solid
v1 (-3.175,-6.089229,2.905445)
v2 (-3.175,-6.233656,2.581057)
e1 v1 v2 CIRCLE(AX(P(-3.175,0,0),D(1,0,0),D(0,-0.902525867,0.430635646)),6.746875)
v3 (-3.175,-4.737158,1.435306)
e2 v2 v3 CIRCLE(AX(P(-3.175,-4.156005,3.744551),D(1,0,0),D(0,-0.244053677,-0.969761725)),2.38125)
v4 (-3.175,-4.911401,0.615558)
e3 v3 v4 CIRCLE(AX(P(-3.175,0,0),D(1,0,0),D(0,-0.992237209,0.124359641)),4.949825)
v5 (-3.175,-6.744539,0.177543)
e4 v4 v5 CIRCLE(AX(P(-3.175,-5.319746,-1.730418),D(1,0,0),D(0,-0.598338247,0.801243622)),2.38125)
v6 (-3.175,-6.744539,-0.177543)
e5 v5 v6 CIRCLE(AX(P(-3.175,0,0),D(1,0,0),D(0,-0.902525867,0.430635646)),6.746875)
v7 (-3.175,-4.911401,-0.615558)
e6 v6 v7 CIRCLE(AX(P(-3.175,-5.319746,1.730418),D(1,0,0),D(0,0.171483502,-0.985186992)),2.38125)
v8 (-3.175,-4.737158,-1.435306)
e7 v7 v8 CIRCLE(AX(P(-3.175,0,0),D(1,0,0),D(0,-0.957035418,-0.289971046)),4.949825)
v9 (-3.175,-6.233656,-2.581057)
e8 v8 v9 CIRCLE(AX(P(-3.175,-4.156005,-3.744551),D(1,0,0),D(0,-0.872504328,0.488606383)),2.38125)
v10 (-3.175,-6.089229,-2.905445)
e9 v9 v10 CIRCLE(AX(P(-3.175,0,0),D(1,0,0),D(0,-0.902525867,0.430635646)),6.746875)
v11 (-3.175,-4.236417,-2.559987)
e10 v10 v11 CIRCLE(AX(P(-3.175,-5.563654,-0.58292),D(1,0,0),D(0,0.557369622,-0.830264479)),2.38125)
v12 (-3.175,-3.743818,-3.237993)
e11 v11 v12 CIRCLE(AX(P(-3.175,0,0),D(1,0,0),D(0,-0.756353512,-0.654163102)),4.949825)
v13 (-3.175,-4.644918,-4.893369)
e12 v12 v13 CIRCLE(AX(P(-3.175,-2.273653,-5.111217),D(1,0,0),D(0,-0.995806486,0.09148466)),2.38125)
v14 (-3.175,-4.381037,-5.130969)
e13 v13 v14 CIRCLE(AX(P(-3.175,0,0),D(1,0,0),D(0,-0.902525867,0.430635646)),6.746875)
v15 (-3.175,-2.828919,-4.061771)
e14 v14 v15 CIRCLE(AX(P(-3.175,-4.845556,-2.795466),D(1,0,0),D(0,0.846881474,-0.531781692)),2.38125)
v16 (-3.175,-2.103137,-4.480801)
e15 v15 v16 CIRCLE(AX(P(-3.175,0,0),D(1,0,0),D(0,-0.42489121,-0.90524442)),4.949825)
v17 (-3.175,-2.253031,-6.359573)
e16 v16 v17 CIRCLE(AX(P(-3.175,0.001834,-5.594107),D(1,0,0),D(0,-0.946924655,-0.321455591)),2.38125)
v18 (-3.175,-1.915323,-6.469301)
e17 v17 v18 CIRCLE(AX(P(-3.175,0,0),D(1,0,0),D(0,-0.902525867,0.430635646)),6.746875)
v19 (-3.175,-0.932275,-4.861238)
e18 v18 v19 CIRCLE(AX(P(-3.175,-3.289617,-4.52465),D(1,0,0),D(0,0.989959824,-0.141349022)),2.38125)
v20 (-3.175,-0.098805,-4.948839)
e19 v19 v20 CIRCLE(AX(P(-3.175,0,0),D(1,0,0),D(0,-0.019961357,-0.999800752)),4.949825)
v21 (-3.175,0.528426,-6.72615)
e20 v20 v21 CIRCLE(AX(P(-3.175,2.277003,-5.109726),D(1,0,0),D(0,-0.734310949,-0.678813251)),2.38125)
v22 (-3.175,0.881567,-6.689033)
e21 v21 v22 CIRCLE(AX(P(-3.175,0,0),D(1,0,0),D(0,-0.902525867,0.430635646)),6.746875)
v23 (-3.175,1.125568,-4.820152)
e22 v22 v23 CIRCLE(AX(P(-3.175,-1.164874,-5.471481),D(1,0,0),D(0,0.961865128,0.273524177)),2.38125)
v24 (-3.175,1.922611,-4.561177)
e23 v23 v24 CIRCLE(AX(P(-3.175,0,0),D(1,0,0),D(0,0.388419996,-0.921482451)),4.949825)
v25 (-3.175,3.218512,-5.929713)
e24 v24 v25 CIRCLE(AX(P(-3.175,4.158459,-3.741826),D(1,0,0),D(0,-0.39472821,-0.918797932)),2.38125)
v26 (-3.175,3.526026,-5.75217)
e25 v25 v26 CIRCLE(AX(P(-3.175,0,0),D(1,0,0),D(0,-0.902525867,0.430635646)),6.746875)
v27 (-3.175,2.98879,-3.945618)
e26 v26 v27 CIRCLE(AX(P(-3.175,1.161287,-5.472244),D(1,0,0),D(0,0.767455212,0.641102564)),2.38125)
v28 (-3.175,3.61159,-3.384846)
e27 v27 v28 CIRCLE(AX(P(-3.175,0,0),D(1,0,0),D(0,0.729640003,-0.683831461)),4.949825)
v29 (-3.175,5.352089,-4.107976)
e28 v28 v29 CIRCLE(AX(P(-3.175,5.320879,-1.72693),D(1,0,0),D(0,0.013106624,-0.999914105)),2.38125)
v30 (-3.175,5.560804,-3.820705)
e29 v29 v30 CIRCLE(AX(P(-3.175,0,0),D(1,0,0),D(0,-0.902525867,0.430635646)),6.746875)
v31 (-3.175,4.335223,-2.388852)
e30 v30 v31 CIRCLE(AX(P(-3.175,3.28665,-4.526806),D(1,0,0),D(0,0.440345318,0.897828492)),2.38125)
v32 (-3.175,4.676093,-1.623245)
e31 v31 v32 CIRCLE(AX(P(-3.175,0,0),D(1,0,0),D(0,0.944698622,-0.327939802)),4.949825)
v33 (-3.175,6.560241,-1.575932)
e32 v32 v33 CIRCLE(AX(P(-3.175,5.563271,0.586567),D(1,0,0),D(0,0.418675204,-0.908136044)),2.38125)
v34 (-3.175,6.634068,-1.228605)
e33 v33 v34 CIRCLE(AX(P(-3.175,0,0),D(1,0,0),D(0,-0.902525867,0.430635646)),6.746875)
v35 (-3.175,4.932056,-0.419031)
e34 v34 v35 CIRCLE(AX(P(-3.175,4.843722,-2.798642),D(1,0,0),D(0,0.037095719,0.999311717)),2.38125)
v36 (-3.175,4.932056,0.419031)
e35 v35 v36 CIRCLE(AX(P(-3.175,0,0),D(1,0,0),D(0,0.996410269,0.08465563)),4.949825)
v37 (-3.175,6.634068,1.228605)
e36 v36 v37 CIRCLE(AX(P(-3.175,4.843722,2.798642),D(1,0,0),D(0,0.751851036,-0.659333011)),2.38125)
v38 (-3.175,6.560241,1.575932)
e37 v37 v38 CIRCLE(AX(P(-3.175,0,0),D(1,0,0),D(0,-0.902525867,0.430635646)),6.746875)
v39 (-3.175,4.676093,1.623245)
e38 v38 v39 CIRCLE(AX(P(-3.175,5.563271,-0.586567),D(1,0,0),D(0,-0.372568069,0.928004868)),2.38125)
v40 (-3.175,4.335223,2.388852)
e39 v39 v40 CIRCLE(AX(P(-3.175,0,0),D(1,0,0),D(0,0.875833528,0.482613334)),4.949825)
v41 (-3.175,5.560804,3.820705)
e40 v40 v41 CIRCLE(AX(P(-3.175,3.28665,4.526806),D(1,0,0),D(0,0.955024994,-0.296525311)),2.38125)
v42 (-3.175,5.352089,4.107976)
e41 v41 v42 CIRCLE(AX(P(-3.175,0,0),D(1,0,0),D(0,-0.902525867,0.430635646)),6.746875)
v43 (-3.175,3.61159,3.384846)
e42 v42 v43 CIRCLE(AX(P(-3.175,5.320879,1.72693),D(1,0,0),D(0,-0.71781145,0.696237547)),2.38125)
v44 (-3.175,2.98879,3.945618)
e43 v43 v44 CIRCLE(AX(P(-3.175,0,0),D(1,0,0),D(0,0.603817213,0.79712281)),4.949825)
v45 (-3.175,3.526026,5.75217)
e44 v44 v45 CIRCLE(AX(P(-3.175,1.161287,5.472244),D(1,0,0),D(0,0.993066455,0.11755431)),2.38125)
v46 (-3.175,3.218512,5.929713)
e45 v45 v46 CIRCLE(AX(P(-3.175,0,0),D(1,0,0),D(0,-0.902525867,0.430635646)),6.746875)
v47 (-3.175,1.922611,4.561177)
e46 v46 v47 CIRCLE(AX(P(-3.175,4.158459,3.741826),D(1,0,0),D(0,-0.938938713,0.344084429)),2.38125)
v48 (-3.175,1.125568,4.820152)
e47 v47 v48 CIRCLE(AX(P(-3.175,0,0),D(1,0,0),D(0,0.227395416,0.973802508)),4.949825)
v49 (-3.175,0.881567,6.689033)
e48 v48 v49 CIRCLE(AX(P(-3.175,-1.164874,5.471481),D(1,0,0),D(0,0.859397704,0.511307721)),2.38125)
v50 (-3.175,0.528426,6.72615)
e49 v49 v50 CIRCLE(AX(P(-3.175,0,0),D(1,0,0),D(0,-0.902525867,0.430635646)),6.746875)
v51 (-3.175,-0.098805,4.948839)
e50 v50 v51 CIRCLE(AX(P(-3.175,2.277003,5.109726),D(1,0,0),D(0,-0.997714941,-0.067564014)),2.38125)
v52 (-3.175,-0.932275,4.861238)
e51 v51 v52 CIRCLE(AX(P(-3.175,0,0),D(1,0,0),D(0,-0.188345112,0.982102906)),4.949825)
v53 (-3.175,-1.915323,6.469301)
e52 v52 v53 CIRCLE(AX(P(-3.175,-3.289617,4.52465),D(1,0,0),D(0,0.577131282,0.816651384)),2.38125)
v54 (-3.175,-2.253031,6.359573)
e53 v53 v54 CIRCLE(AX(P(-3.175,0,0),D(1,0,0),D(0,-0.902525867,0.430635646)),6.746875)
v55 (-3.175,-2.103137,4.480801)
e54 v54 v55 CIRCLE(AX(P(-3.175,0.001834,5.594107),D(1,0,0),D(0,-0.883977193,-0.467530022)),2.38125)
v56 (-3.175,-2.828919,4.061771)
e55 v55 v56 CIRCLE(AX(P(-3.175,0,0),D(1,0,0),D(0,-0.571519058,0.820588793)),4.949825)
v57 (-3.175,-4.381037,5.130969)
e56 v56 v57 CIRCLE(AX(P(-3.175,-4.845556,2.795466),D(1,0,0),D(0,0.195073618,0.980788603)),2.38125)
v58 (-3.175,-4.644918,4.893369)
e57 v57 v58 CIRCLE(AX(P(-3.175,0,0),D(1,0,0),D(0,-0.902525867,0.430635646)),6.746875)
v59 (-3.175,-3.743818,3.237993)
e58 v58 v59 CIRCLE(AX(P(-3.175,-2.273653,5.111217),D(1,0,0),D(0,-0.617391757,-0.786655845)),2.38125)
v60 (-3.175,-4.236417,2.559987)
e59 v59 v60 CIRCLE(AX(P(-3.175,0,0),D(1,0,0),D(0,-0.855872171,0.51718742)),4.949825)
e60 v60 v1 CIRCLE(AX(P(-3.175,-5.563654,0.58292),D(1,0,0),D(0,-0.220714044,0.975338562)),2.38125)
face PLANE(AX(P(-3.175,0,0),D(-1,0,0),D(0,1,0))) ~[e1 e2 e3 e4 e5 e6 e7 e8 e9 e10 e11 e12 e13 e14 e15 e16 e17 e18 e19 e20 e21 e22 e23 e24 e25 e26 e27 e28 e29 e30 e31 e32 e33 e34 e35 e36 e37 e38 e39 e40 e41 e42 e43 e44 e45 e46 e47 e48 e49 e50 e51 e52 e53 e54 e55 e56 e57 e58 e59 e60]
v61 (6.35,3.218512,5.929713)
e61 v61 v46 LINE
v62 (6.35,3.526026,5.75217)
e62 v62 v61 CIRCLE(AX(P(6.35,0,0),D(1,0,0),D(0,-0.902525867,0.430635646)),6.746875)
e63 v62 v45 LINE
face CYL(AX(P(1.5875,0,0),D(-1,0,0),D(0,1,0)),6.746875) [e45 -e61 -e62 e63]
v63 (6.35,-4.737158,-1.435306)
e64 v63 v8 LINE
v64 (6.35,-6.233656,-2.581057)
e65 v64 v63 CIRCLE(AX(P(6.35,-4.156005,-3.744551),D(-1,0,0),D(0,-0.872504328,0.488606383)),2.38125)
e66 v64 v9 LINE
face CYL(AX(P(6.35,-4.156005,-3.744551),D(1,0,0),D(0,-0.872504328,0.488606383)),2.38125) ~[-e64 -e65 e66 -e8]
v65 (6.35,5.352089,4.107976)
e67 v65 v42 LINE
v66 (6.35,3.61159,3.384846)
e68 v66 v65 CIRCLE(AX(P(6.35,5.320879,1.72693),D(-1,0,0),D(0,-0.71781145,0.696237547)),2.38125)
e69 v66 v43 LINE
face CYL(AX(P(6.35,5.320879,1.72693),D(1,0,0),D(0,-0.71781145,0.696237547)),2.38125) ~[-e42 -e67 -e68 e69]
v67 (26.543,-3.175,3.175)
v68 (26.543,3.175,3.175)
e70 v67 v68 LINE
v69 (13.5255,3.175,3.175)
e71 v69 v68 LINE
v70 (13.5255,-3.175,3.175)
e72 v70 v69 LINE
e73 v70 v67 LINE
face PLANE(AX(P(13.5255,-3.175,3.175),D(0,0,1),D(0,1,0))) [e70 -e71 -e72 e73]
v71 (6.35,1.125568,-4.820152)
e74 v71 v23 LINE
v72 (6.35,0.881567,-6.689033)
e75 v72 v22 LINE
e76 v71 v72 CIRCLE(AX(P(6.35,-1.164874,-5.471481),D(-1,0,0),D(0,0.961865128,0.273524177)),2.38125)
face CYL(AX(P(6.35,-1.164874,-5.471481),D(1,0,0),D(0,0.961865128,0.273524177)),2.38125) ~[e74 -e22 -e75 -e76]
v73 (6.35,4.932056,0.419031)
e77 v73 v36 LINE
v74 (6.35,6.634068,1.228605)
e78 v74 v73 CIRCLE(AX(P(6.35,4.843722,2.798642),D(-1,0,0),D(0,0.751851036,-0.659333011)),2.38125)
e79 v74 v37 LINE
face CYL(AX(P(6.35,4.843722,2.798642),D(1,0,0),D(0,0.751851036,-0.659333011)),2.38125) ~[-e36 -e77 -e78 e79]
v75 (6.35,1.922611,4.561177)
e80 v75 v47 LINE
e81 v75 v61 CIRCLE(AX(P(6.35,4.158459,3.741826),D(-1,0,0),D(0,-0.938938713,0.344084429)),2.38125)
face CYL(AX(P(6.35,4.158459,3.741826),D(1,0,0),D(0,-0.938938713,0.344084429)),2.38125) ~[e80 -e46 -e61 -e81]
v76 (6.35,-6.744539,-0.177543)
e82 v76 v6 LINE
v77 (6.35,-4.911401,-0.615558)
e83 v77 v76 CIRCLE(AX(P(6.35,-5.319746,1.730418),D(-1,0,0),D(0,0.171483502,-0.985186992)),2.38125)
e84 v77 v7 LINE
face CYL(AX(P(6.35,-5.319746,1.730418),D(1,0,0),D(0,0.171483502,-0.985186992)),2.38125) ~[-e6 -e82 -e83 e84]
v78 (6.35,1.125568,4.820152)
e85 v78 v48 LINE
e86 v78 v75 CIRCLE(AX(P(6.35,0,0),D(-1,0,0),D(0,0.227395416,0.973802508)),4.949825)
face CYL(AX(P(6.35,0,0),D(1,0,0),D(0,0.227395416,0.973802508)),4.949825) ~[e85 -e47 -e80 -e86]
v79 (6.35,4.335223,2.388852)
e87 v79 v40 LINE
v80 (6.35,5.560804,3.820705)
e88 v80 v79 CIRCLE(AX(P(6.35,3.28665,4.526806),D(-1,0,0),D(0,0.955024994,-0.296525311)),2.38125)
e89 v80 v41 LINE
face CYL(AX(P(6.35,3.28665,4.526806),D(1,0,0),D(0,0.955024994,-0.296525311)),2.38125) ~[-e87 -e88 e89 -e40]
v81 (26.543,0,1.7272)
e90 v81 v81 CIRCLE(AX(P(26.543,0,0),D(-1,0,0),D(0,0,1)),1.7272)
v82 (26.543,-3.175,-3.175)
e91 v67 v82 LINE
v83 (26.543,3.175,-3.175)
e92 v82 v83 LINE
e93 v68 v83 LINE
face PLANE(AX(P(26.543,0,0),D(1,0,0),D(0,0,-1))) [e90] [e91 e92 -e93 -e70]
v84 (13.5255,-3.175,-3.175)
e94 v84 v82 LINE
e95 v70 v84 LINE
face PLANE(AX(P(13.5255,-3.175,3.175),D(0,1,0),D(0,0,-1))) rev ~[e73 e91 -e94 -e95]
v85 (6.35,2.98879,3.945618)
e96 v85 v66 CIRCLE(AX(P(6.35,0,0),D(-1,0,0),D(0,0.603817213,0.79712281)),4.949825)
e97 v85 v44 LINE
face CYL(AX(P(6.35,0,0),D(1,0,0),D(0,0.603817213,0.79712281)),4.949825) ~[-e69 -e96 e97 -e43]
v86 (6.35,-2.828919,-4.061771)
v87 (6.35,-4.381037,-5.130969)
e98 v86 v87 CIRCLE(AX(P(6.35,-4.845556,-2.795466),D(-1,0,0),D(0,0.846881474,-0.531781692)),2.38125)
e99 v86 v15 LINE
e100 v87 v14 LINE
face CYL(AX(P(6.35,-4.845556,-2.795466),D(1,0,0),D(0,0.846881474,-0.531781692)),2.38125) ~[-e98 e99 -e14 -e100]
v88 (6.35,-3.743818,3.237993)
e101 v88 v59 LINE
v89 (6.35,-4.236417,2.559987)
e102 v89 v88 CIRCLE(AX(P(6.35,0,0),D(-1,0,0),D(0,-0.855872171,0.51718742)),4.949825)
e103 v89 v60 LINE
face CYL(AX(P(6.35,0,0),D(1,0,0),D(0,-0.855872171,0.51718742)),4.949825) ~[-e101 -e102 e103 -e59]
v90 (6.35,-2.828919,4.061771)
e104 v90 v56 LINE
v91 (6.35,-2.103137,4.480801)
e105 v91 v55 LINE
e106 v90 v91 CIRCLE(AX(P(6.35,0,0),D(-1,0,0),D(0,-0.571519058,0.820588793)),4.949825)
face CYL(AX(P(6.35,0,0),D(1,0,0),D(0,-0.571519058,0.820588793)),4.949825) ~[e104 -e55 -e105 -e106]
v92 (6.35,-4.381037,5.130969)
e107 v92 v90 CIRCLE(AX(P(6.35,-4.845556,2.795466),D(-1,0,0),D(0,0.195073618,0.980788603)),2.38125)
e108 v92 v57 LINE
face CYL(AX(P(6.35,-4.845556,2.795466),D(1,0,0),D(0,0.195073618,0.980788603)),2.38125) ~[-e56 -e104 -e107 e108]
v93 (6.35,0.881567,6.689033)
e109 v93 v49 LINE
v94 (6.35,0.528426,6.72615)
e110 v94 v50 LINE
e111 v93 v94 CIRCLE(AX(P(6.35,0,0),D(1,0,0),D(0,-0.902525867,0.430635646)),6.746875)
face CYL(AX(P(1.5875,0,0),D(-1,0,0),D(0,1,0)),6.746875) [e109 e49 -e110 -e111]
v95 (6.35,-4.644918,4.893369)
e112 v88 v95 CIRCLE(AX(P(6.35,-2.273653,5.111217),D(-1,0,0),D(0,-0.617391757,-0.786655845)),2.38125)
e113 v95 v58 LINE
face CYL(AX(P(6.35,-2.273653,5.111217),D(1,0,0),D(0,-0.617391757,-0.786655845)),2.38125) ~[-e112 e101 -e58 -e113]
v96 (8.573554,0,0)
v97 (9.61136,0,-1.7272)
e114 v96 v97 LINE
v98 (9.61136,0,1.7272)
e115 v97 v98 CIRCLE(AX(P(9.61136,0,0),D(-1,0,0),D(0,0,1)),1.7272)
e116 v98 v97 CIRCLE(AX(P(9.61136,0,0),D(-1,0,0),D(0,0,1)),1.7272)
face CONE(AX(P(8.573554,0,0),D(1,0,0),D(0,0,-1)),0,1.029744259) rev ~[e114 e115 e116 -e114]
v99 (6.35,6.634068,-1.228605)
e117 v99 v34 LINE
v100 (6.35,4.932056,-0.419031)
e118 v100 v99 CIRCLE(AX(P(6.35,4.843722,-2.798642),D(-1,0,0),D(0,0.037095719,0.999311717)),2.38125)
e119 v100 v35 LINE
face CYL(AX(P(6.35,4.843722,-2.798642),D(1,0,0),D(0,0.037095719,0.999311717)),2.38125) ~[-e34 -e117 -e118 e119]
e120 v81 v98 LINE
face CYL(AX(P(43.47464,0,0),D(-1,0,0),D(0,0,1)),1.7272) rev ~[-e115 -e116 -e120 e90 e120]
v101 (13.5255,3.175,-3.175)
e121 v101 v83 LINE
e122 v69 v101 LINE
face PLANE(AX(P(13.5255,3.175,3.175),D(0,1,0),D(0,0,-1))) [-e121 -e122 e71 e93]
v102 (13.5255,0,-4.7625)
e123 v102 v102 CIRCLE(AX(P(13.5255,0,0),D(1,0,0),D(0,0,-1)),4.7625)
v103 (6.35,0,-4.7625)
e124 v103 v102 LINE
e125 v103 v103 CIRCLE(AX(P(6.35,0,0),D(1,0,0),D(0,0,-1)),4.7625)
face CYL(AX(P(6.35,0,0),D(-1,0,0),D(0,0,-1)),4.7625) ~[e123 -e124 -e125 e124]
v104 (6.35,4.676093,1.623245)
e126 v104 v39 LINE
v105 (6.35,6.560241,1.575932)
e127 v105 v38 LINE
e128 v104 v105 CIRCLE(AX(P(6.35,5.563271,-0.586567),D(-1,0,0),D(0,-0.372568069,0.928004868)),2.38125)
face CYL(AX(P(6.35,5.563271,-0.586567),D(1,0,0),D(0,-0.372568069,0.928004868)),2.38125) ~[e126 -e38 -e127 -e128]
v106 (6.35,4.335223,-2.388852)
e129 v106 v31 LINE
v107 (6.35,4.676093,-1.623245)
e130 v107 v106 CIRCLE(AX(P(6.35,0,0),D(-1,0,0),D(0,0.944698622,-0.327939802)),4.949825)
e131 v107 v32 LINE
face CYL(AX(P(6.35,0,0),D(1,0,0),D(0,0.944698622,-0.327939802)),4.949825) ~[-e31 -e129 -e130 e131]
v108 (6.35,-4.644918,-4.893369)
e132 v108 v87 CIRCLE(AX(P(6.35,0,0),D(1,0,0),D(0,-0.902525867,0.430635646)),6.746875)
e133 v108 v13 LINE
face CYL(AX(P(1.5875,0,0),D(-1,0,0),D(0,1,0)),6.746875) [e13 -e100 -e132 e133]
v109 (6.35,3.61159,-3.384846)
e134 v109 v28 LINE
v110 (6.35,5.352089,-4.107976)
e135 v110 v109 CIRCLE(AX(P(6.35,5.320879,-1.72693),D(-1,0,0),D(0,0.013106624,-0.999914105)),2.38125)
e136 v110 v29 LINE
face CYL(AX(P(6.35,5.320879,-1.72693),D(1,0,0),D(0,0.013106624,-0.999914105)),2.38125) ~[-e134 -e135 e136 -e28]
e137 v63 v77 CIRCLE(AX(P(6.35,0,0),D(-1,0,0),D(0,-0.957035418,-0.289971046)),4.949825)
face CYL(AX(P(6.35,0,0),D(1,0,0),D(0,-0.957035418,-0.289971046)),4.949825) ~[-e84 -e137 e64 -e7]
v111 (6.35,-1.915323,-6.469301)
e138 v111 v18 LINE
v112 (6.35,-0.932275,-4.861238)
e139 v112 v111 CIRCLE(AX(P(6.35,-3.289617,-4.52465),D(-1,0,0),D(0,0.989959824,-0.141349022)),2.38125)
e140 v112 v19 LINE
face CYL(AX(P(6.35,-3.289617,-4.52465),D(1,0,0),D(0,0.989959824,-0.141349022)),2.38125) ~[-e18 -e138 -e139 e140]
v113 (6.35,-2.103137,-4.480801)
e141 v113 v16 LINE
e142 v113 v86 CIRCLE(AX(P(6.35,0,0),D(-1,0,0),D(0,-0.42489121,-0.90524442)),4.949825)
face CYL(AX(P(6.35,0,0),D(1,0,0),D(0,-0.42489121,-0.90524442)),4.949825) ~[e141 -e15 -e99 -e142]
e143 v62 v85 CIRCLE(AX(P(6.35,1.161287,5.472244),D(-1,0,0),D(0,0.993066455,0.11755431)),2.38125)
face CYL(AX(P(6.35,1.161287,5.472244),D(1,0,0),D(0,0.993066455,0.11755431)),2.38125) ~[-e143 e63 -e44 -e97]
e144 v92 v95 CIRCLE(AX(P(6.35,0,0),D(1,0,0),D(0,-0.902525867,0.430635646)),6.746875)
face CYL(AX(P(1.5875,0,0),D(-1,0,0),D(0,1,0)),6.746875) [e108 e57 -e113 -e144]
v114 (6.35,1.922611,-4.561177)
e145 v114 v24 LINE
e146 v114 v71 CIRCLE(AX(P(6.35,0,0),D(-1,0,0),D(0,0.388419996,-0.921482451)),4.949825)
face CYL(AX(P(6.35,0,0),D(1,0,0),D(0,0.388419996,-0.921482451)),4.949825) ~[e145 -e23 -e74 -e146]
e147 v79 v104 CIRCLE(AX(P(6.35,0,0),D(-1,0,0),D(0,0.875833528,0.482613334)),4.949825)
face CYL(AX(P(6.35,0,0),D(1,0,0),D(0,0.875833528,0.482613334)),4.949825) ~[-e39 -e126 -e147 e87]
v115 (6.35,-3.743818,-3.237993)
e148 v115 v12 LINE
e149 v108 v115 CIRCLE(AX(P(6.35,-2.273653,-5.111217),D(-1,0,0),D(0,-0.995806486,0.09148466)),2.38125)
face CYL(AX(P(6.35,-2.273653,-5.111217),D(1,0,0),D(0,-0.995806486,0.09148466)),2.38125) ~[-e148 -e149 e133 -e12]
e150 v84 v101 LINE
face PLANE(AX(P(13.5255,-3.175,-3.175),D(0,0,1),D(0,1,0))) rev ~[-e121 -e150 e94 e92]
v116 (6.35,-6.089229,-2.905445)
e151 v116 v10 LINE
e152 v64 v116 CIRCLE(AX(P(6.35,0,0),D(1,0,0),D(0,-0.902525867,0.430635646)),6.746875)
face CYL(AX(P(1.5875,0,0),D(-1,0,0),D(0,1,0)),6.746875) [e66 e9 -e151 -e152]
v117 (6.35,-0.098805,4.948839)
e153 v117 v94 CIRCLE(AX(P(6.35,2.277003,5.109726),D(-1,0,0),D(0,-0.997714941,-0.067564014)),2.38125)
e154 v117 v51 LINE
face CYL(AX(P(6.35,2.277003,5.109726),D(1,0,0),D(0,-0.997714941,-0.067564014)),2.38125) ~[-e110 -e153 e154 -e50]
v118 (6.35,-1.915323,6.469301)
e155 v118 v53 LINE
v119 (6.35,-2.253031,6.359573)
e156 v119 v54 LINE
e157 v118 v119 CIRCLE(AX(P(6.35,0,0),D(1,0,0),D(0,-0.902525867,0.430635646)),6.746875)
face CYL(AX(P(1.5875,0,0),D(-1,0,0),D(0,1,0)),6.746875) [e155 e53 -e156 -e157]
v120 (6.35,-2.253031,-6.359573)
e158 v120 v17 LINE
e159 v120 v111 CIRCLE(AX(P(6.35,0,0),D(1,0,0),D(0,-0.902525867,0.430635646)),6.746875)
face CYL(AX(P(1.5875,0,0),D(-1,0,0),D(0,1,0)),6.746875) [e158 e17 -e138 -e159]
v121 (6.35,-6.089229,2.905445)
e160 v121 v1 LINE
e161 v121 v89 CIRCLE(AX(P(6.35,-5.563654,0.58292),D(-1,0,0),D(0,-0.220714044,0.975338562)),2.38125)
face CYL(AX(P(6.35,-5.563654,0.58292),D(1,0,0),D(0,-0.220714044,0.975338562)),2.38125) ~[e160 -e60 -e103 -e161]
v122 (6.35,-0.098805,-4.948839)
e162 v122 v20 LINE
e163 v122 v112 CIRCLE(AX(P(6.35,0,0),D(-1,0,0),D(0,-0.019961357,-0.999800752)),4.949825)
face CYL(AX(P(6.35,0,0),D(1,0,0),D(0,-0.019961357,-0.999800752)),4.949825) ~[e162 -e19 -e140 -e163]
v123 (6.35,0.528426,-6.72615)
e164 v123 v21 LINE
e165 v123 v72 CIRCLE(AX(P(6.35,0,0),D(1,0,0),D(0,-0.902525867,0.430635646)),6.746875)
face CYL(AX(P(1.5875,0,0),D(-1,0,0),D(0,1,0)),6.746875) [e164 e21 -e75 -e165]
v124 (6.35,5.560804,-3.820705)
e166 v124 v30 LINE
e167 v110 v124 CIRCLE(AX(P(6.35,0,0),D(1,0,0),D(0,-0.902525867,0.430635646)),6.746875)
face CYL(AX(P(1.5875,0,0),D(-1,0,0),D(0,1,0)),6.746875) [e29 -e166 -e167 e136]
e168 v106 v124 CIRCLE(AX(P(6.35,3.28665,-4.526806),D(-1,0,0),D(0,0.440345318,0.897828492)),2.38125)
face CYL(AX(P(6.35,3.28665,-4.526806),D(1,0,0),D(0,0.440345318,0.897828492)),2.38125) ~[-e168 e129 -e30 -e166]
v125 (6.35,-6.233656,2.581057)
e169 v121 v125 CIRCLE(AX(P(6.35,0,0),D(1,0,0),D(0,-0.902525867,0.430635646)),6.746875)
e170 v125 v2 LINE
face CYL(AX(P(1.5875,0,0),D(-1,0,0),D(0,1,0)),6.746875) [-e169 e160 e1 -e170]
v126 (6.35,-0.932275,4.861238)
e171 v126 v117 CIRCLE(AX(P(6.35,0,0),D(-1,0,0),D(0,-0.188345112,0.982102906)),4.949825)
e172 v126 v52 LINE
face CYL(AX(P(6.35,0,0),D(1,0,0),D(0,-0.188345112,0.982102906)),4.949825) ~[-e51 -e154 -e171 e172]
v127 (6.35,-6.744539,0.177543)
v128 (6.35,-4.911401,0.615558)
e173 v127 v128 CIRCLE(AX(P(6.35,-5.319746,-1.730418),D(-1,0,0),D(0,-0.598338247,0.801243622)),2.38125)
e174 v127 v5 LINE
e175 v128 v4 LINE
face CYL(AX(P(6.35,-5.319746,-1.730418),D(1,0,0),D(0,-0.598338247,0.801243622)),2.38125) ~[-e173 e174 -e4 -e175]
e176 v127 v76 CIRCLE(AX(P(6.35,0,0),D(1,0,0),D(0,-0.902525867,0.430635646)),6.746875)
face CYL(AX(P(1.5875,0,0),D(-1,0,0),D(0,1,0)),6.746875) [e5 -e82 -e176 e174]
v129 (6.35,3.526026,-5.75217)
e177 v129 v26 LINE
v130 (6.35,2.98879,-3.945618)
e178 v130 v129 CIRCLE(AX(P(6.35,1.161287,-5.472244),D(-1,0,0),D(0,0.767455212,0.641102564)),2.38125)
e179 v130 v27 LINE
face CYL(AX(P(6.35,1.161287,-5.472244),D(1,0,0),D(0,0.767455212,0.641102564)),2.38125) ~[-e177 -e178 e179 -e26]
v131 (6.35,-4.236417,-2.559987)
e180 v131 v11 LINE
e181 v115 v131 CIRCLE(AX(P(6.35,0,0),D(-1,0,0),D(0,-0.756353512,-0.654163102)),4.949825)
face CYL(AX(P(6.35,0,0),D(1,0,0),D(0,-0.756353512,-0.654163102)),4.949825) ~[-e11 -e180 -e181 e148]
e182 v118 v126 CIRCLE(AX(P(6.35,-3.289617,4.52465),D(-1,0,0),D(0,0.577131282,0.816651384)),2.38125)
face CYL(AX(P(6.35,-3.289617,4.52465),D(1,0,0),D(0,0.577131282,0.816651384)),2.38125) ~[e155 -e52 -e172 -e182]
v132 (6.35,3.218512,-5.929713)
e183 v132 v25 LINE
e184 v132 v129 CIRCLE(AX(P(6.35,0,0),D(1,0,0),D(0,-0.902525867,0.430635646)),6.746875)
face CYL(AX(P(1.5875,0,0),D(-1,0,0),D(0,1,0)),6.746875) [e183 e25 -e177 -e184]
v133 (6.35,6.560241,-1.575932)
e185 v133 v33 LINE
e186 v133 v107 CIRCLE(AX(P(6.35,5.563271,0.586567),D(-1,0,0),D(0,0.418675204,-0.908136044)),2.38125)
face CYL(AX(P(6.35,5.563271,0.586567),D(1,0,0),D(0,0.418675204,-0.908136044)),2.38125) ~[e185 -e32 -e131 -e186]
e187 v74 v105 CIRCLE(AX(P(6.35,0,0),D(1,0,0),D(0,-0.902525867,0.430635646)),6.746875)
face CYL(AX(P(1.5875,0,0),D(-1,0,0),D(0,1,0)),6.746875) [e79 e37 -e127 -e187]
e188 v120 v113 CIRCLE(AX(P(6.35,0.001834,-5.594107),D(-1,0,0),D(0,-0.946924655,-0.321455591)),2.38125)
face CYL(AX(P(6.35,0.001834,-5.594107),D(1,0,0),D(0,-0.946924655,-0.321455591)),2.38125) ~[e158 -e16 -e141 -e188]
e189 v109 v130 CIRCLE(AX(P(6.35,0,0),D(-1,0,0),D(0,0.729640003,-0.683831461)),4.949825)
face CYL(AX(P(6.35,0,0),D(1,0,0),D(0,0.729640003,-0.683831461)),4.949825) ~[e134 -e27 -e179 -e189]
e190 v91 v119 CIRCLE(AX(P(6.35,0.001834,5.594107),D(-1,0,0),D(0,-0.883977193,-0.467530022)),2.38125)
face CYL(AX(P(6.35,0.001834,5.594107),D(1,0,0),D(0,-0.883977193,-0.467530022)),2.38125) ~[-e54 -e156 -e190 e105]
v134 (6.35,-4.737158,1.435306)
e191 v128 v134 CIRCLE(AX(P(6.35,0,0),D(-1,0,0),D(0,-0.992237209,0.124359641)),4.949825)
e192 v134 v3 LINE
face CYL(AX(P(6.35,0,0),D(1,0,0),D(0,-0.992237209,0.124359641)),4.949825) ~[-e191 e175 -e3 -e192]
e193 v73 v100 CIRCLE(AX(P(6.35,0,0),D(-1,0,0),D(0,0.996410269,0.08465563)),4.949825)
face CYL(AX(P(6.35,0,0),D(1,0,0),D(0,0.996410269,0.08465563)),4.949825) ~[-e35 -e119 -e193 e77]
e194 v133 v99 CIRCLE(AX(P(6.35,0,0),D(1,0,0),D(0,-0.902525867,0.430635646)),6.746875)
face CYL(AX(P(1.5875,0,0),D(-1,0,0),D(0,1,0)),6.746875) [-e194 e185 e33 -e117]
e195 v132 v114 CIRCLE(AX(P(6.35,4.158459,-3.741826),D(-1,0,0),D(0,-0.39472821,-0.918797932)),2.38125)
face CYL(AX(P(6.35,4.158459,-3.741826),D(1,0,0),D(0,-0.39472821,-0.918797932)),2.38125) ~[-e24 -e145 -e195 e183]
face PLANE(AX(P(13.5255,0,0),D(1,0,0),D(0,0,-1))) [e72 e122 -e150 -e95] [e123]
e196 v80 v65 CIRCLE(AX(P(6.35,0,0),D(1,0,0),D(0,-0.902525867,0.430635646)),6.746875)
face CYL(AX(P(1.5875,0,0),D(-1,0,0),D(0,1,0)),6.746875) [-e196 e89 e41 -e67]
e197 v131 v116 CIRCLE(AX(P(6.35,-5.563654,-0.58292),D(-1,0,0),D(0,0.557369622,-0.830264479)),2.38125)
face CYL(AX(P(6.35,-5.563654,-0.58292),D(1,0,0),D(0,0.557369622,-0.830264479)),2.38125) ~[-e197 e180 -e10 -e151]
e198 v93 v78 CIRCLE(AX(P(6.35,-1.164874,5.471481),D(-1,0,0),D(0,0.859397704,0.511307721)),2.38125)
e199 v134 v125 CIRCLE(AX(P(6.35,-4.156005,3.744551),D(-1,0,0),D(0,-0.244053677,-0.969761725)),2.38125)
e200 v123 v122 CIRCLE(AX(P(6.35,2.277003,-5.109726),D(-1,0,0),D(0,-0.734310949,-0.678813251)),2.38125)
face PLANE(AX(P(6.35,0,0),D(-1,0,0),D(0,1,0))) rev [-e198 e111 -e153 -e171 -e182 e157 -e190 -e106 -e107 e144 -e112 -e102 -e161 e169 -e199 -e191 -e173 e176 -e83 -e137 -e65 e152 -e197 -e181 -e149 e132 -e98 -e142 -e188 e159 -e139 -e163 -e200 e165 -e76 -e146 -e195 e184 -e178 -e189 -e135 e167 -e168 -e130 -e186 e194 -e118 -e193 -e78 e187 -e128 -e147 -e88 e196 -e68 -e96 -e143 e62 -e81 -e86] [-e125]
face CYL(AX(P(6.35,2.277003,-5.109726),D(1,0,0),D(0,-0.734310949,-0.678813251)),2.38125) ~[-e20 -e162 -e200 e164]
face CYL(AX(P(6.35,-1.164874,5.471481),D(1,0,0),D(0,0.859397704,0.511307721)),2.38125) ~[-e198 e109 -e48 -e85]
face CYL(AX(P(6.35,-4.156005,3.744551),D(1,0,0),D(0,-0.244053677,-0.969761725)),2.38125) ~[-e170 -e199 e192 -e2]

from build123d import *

# Parameters (mm, degrees)
SKETCH1_W                = 9.525
SKETCH1_H                = 6.746875
CUT_EXTRUDE1_DEPTH       = 10.525
CUT_EXTRUDE2_DEPTH       = 10.525
CUT_EXTRUDE3_DEPTH       = 10.525
CUT_EXTRUDE4_DEPTH       = 10.525
CUT_EXTRUDE5_DEPTH       = 10.525
CUT_EXTRUDE6_DEPTH       = 10.525
CUT_EXTRUDE7_DEPTH       = 10.525
CUT_EXTRUDE8_DEPTH       = 10.525
CUT_EXTRUDE9_DEPTH       = 10.525
CUT_EXTRUDE10_DEPTH      = 10.525
CUT_EXTRUDE11_DEPTH      = 10.525
CUT_EXTRUDE12_DEPTH      = 10.525
CUT_EXTRUDE13_DEPTH      = 10.525
CUT_EXTRUDE14_DEPTH      = 10.525
CUT_EXTRUDE15_DEPTH      = 10.525
SKETCH17_R               = 4.7625
BOSS_EXTRUDE1_DEPTH      = 7.1755
SKETCH18_W               = 6.35
SKETCH18_H               = 6.35
BOSS_EXTRUDE2_DEPTH      = 13.0175
M3_CLEARANCE_HOLE1_D     = 3.4544
M3_CLEARANCE_HOLE1_DEPTH = 16.93164
M3_CLEARANCE_HOLE1_TIP   = 1.037806461


with BuildPart() as part:
    # Sketch1 → Revolve1 (revolve)
    with BuildSketch(Plane(origin=(0, 0, 0), x_dir=(-1, 0, 0), z_dir=(0, 0, -1))):
        with Locations((-1.5875, 3.3734375)):
            Rectangle(SKETCH1_W, SKETCH1_H)
    revolve(axis=Axis((6.35, 0, 0), (-1, 0, 0)))

    # Sketch2 → Cut-Extrude1 (cut, through all)
    with BuildSketch(Plane(origin=(6.35, 0, 0), x_dir=(0, 0, -1), z_dir=(1, 0, 0))):
        with BuildLine():
            ThreePointArc((-4.893369276, -4.644917588), (-3.965713624, -5.458336534), (-2.905444874, -6.089229208))
            ThreePointArc((-2.905444874, -6.089229208), (-2.92382812, -5.1271904), (-2.559987212, -4.236417473))
            ThreePointArc((-2.559987212, -4.236417473), (-2.909434136, -4.004492544), (-3.23799289, -3.743817514))
            ThreePointArc((-3.23799289, -3.743817514), (-3.972735262, -4.365114753), (-4.893369276, -4.644917588))
        make_face()
    extrude(amount=-CUT_EXTRUDE1_DEPTH, mode=Mode.SUBTRACT)

    # Sketch3 → Cut-Extrude2 (cut, through all)
    with BuildSketch(Plane(origin=(6.35, 0, 0), x_dir=(0, 0, -1), z_dir=(1, 0, 0))):
        with BuildLine():
            ThreePointArc((-6.359573461, -2.253030771), (-5.842965146, -3.3734375), (-5.130968614, -4.381036789))
            ThreePointArc((-5.130968614, -4.381036789), (-4.75646611, -3.494693465), (-4.061770911, -2.828919335))
            ThreePointArc((-4.061770911, -2.828919335), (-4.286674194, -2.4749125), (-4.480801464, -2.103137126))
            ThreePointArc((-4.480801464, -2.103137126), (-5.404726374, -2.37187375), (-6.359573461, -2.253030771))
        make_face()
    extrude(amount=-CUT_EXTRUDE2_DEPTH, mode=Mode.SUBTRACT)

    # Sketch4 → Cut-Extrude3 (cut, through all)
    with BuildSketch(Plane(origin=(6.35, 0, 0), x_dir=(0, 0, -1), z_dir=(1, 0, 0))):
        with BuildLine():
            ThreePointArc((-6.726149621, 0.528425534), (-6.709914913, -0.705240476), (-6.469301267, -1.915323309))
            ThreePointArc((-6.469301267, -1.915323309), (-5.766667898, -1.257932283), (-4.861237519, -0.932275343))
            ThreePointArc((-4.861237519, -0.932275343), (-4.922709341, -0.517397601), (-4.948838759, -0.098805222))
            ThreePointArc((-4.948838759, -0.098805222), (-5.902191196, 0.031485771), (-6.726149621, 0.528425534))
        make_face()
    extrude(amount=-CUT_EXTRUDE3_DEPTH, mode=Mode.SUBTRACT)

    # Sketch5 → Cut-Extrude4 (cut, through all)
    with BuildSketch(Plane(origin=(6.35, 0, 0), x_dir=(0, 0, -1), z_dir=(1, 0, 0))):
        with BuildLine():
            ThreePointArc((-5.929713406, 3.218512264), (-6.416659433, 2.084899034), (-6.68903296, 0.881566972))
            ThreePointArc((-6.68903296, 0.881566972), (-5.779760418, 1.196336819), (-4.820151997, 1.125567525))
            ThreePointArc((-4.820151997, 1.125567525), (-4.707563321, 1.529580044), (-4.561176873, 1.922611002))
            ThreePointArc((-4.561176873, 1.922611002), (-5.37911354, 2.429401117), (-5.929713406, 3.218512264))
        make_face()
    extrude(amount=-CUT_EXTRUDE4_DEPTH, mode=Mode.SUBTRACT)

    # Sketch6 → Cut-Extrude5 (cut, through all)
    with BuildSketch(Plane(origin=(6.35, 0, 0), x_dir=(0, 0, -1), z_dir=(1, 0, 0))):
        with BuildLine():
            ThreePointArc((-5.752170086, 3.526026314), (-4.793479854, 3.443748417), (-3.945618406, 2.988789542))
            ThreePointArc((-3.945618406, 2.988789542), (-3.678436836, 3.312079404), (-3.384846069, 3.611590317))
            ThreePointArc((-3.384846069, 3.611590317), (-3.925938286, 4.40725094), (-4.107975873, 5.352088984))
            ThreePointArc((-4.107975873, 5.352088984), (-5.013905244, 4.51454056), (-5.752170086, 3.526026314))
        make_face()
    extrude(amount=-CUT_EXTRUDE5_DEPTH, mode=Mode.SUBTRACT)

    # Sketch7 → Cut-Extrude6 (cut, through all)
    with BuildSketch(Plane(origin=(6.35, 0, 0), x_dir=(0, 0, -1), z_dir=(1, 0, 0))):
        with BuildLine():
            ThreePointArc((-3.820704747, 5.560803674), (-2.978363076, 5.095704628), (-2.388851547, 4.335222695))
            ThreePointArc((-2.388851547, 4.335222695), (-2.013275204, 4.521890145), (-1.623244629, 4.676092857))
            ThreePointArc((-1.623244629, 4.676092857), (-1.793932636, 5.623047036), (-1.575931992, 6.560240897))
            ThreePointArc((-1.575931992, 6.560240897), (-2.744201289, 6.16357701), (-3.820704747, 5.560803674))
        make_face()
    extrude(amount=-CUT_EXTRUDE6_DEPTH, mode=Mode.SUBTRACT)

    # Sketch8 → Cut-Extrude7 (cut, through all)
    with BuildSketch(Plane(origin=(6.35, 0, 0), x_dir=(0, 0, -1), z_dir=(1, 0, 0))):
        with BuildLine():
            ThreePointArc((1.228604847, 6.63406756), (0, 6.746875), (-1.228604847, 6.63406756))
            ThreePointArc((-1.228604847, 6.63406756), (-0.648260265, 5.866567216), (-0.419030554, 4.93205646))
            ThreePointArc((-0.419030554, 4.93205646), (0, 4.949825), (0.419030554, 4.93205646))
            ThreePointArc((0.419030554, 4.93205646), (0.648260265, 5.866567216), (1.228604847, 6.63406756))
        make_face()
    extrude(amount=-CUT_EXTRUDE7_DEPTH, mode=Mode.SUBTRACT)

    # Sketch9 → Cut-Extrude8 (cut, through all)
    with BuildSketch(Plane(origin=(6.35, 0, 0), x_dir=(0, 0, -1), z_dir=(1, 0, 0))):
        with BuildLine():
            ThreePointArc((3.820704747, 5.560803674), (2.744201289, 6.16357701), (1.575931992, 6.560240897))
            ThreePointArc((1.575931992, 6.560240897), (1.793932636, 5.623047036), (1.623244629, 4.676092857))
            ThreePointArc((1.623244629, 4.676092857), (2.013275204, 4.521890145), (2.388851547, 4.335222695))
            ThreePointArc((2.388851547, 4.335222695), (2.978363076, 5.095704628), (3.820704747, 5.560803674))
        make_face()
    extrude(amount=-CUT_EXTRUDE8_DEPTH, mode=Mode.SUBTRACT)

    # Sketch10 → Cut-Extrude9 (cut, through all)
    with BuildSketch(Plane(origin=(6.35, 0, 0), x_dir=(0, 0, -1), z_dir=(1, 0, 0))):
        with BuildLine():
            ThreePointArc((5.752170086, 3.526026314), (5.013905244, 4.51454056), (4.107975873, 5.352088984))
            ThreePointArc((4.107975873, 5.352088984), (3.925938286, 4.40725094), (3.384846069, 3.611590317))
            ThreePointArc((3.384846069, 3.611590317), (3.678436836, 3.312079404), (3.945618406, 2.988789542))
            ThreePointArc((3.945618406, 2.988789542), (4.793479854, 3.443748417), (5.752170086, 3.526026314))
        make_face()
    extrude(amount=-CUT_EXTRUDE9_DEPTH, mode=Mode.SUBTRACT)

    # Sketch11 → Cut-Extrude10 (cut, through all)
    with BuildSketch(Plane(origin=(6.35, 0, 0), x_dir=(0, 0, -1), z_dir=(1, 0, 0))):
        with BuildLine():
            ThreePointArc((6.68903296, 0.881566972), (6.416659433, 2.084899034), (5.929713406, 3.218512264))
            ThreePointArc((5.929713406, 3.218512264), (5.37911354, 2.429401117), (4.561176873, 1.922611002))
            ThreePointArc((4.561176873, 1.922611002), (4.707563321, 1.529580044), (4.820151997, 1.125567525))
            ThreePointArc((4.820151997, 1.125567525), (5.779760418, 1.196336819), (6.68903296, 0.881566972))
        make_face()
    extrude(amount=-CUT_EXTRUDE10_DEPTH, mode=Mode.SUBTRACT)

    # Sketch12 → Cut-Extrude11 (cut, through all)
    with BuildSketch(Plane(origin=(6.35, 0, 0), x_dir=(0, 0, -1), z_dir=(1, 0, 0))):
        with BuildLine():
            ThreePointArc((6.469301267, -1.915323309), (6.709914913, -0.705240476), (6.726149621, 0.528425534))
            ThreePointArc((6.726149621, 0.528425534), (5.902191196, 0.031485771), (4.948838759, -0.098805222))
            ThreePointArc((4.948838759, -0.098805222), (4.922709341, -0.517397601), (4.861237519, -0.932275343))
            ThreePointArc((4.861237519, -0.932275343), (5.766667898, -1.257932283), (6.469301267, -1.915323309))
        make_face()
    extrude(amount=-CUT_EXTRUDE11_DEPTH, mode=Mode.SUBTRACT)

    # Sketch13 → Cut-Extrude12 (cut, through all)
    with BuildSketch(Plane(origin=(6.35, 0, 0), x_dir=(0, 0, -1), z_dir=(1, 0, 0))):
        with BuildLine():
            ThreePointArc((5.130968614, -4.381036789), (5.842965146, -3.3734375), (6.359573461, -2.253030771))
            ThreePointArc((6.359573461, -2.253030771), (5.404726374, -2.37187375), (4.480801464, -2.103137126))
            ThreePointArc((4.480801464, -2.103137126), (4.286674194, -2.4749125), (4.061770911, -2.828919335))
            ThreePointArc((4.061770911, -2.828919335), (4.75646611, -3.494693465), (5.130968614, -4.381036789))
        make_face()
    extrude(amount=-CUT_EXTRUDE12_DEPTH, mode=Mode.SUBTRACT)

    # Sketch14 → Cut-Extrude13 (cut, through all)
    with BuildSketch(Plane(origin=(6.35, 0, 0), x_dir=(0, 0, -1), z_dir=(1, 0, 0))):
        with BuildLine():
            ThreePointArc((2.905444874, -6.089229208), (3.965713624, -5.458336534), (4.893369276, -4.644917588))
            ThreePointArc((4.893369276, -4.644917588), (3.972735262, -4.365114753), (3.23799289, -3.743817514))
            ThreePointArc((3.23799289, -3.743817514), (2.909434136, -4.004492544), (2.559987212, -4.236417473))
            ThreePointArc((2.559987212, -4.236417473), (2.92382812, -5.1271904), (2.905444874, -6.089229208))
        make_face()
    extrude(amount=-CUT_EXTRUDE13_DEPTH, mode=Mode.SUBTRACT)

    # Sketch15 → Cut-Extrude14 (cut, through all)
    with BuildSketch(Plane(origin=(6.35, 0, 0), x_dir=(0, 0, -1), z_dir=(1, 0, 0))):
        with BuildLine():
            ThreePointArc((0.17754332, -6.744538578), (1.402754189, -6.599439594), (2.581057087, -6.233655956))
            ThreePointArc((2.581057087, -6.233655956), (1.853822132, -5.603587759), (1.435305929, -4.737157842))
            ThreePointArc((1.435305929, -4.737157842), (1.029126485, -4.841659448), (0.615558467, -4.911400544))
            ThreePointArc((0.615558467, -4.911400544), (0.585633687, -5.873149535), (0.17754332, -6.744538578))
        make_face()
    extrude(amount=-CUT_EXTRUDE14_DEPTH, mode=Mode.SUBTRACT)

    # Sketch16 → Cut-Extrude15 (cut, through all)
    with BuildSketch(Plane(origin=(6.35, 0, 0), x_dir=(0, 0, -1), z_dir=(1, 0, 0))):
        with BuildLine():
            ThreePointArc((-2.581057087, -6.233655956), (-1.402754189, -6.599439594), (-0.17754332, -6.744538578))
            ThreePointArc((-0.17754332, -6.744538578), (-0.585633687, -5.873149535), (-0.615558467, -4.911400544))
            ThreePointArc((-0.615558467, -4.911400544), (-1.029126485, -4.841659448), (-1.435305929, -4.737157842))
            ThreePointArc((-1.435305929, -4.737157842), (-1.853822132, -5.603587759), (-2.581057087, -6.233655956))
        make_face()
    extrude(amount=-CUT_EXTRUDE15_DEPTH, mode=Mode.SUBTRACT)

    # Sketch17 → Boss-Extrude1 (add)
    with BuildSketch(Plane(origin=(6.35, 0, 0), x_dir=(0, 0, -1), z_dir=(1, 0, 0))):
        Circle(SKETCH17_R)
    extrude(amount=BOSS_EXTRUDE1_DEPTH)

    # Sketch18 → Boss-Extrude2 (add)
    with BuildSketch(Plane(origin=(13.5255, 0, 0), x_dir=(0, 0, -1), z_dir=(1, 0, 0))):
        Rectangle(SKETCH18_W, SKETCH18_H)
    extrude(amount=BOSS_EXTRUDE2_DEPTH)

    # M3 Clearance Hole1
    with Locations(Plane(origin=(26.543, 0, 0), x_dir=(0, 0, -1), z_dir=(1, 0, 0))):
        with Locations((0, 0)):
            Hole(M3_CLEARANCE_HOLE1_D / 2, depth=M3_CLEARANCE_HOLE1_DEPTH)
            with Locations((0, 0, -(M3_CLEARANCE_HOLE1_DEPTH + M3_CLEARANCE_HOLE1_TIP / 2))):  # 118° drill point
                Cone(0, M3_CLEARANCE_HOLE1_D / 2, M3_CLEARANCE_HOLE1_TIP, mode=Mode.SUBTRACT)


solid = part.part
